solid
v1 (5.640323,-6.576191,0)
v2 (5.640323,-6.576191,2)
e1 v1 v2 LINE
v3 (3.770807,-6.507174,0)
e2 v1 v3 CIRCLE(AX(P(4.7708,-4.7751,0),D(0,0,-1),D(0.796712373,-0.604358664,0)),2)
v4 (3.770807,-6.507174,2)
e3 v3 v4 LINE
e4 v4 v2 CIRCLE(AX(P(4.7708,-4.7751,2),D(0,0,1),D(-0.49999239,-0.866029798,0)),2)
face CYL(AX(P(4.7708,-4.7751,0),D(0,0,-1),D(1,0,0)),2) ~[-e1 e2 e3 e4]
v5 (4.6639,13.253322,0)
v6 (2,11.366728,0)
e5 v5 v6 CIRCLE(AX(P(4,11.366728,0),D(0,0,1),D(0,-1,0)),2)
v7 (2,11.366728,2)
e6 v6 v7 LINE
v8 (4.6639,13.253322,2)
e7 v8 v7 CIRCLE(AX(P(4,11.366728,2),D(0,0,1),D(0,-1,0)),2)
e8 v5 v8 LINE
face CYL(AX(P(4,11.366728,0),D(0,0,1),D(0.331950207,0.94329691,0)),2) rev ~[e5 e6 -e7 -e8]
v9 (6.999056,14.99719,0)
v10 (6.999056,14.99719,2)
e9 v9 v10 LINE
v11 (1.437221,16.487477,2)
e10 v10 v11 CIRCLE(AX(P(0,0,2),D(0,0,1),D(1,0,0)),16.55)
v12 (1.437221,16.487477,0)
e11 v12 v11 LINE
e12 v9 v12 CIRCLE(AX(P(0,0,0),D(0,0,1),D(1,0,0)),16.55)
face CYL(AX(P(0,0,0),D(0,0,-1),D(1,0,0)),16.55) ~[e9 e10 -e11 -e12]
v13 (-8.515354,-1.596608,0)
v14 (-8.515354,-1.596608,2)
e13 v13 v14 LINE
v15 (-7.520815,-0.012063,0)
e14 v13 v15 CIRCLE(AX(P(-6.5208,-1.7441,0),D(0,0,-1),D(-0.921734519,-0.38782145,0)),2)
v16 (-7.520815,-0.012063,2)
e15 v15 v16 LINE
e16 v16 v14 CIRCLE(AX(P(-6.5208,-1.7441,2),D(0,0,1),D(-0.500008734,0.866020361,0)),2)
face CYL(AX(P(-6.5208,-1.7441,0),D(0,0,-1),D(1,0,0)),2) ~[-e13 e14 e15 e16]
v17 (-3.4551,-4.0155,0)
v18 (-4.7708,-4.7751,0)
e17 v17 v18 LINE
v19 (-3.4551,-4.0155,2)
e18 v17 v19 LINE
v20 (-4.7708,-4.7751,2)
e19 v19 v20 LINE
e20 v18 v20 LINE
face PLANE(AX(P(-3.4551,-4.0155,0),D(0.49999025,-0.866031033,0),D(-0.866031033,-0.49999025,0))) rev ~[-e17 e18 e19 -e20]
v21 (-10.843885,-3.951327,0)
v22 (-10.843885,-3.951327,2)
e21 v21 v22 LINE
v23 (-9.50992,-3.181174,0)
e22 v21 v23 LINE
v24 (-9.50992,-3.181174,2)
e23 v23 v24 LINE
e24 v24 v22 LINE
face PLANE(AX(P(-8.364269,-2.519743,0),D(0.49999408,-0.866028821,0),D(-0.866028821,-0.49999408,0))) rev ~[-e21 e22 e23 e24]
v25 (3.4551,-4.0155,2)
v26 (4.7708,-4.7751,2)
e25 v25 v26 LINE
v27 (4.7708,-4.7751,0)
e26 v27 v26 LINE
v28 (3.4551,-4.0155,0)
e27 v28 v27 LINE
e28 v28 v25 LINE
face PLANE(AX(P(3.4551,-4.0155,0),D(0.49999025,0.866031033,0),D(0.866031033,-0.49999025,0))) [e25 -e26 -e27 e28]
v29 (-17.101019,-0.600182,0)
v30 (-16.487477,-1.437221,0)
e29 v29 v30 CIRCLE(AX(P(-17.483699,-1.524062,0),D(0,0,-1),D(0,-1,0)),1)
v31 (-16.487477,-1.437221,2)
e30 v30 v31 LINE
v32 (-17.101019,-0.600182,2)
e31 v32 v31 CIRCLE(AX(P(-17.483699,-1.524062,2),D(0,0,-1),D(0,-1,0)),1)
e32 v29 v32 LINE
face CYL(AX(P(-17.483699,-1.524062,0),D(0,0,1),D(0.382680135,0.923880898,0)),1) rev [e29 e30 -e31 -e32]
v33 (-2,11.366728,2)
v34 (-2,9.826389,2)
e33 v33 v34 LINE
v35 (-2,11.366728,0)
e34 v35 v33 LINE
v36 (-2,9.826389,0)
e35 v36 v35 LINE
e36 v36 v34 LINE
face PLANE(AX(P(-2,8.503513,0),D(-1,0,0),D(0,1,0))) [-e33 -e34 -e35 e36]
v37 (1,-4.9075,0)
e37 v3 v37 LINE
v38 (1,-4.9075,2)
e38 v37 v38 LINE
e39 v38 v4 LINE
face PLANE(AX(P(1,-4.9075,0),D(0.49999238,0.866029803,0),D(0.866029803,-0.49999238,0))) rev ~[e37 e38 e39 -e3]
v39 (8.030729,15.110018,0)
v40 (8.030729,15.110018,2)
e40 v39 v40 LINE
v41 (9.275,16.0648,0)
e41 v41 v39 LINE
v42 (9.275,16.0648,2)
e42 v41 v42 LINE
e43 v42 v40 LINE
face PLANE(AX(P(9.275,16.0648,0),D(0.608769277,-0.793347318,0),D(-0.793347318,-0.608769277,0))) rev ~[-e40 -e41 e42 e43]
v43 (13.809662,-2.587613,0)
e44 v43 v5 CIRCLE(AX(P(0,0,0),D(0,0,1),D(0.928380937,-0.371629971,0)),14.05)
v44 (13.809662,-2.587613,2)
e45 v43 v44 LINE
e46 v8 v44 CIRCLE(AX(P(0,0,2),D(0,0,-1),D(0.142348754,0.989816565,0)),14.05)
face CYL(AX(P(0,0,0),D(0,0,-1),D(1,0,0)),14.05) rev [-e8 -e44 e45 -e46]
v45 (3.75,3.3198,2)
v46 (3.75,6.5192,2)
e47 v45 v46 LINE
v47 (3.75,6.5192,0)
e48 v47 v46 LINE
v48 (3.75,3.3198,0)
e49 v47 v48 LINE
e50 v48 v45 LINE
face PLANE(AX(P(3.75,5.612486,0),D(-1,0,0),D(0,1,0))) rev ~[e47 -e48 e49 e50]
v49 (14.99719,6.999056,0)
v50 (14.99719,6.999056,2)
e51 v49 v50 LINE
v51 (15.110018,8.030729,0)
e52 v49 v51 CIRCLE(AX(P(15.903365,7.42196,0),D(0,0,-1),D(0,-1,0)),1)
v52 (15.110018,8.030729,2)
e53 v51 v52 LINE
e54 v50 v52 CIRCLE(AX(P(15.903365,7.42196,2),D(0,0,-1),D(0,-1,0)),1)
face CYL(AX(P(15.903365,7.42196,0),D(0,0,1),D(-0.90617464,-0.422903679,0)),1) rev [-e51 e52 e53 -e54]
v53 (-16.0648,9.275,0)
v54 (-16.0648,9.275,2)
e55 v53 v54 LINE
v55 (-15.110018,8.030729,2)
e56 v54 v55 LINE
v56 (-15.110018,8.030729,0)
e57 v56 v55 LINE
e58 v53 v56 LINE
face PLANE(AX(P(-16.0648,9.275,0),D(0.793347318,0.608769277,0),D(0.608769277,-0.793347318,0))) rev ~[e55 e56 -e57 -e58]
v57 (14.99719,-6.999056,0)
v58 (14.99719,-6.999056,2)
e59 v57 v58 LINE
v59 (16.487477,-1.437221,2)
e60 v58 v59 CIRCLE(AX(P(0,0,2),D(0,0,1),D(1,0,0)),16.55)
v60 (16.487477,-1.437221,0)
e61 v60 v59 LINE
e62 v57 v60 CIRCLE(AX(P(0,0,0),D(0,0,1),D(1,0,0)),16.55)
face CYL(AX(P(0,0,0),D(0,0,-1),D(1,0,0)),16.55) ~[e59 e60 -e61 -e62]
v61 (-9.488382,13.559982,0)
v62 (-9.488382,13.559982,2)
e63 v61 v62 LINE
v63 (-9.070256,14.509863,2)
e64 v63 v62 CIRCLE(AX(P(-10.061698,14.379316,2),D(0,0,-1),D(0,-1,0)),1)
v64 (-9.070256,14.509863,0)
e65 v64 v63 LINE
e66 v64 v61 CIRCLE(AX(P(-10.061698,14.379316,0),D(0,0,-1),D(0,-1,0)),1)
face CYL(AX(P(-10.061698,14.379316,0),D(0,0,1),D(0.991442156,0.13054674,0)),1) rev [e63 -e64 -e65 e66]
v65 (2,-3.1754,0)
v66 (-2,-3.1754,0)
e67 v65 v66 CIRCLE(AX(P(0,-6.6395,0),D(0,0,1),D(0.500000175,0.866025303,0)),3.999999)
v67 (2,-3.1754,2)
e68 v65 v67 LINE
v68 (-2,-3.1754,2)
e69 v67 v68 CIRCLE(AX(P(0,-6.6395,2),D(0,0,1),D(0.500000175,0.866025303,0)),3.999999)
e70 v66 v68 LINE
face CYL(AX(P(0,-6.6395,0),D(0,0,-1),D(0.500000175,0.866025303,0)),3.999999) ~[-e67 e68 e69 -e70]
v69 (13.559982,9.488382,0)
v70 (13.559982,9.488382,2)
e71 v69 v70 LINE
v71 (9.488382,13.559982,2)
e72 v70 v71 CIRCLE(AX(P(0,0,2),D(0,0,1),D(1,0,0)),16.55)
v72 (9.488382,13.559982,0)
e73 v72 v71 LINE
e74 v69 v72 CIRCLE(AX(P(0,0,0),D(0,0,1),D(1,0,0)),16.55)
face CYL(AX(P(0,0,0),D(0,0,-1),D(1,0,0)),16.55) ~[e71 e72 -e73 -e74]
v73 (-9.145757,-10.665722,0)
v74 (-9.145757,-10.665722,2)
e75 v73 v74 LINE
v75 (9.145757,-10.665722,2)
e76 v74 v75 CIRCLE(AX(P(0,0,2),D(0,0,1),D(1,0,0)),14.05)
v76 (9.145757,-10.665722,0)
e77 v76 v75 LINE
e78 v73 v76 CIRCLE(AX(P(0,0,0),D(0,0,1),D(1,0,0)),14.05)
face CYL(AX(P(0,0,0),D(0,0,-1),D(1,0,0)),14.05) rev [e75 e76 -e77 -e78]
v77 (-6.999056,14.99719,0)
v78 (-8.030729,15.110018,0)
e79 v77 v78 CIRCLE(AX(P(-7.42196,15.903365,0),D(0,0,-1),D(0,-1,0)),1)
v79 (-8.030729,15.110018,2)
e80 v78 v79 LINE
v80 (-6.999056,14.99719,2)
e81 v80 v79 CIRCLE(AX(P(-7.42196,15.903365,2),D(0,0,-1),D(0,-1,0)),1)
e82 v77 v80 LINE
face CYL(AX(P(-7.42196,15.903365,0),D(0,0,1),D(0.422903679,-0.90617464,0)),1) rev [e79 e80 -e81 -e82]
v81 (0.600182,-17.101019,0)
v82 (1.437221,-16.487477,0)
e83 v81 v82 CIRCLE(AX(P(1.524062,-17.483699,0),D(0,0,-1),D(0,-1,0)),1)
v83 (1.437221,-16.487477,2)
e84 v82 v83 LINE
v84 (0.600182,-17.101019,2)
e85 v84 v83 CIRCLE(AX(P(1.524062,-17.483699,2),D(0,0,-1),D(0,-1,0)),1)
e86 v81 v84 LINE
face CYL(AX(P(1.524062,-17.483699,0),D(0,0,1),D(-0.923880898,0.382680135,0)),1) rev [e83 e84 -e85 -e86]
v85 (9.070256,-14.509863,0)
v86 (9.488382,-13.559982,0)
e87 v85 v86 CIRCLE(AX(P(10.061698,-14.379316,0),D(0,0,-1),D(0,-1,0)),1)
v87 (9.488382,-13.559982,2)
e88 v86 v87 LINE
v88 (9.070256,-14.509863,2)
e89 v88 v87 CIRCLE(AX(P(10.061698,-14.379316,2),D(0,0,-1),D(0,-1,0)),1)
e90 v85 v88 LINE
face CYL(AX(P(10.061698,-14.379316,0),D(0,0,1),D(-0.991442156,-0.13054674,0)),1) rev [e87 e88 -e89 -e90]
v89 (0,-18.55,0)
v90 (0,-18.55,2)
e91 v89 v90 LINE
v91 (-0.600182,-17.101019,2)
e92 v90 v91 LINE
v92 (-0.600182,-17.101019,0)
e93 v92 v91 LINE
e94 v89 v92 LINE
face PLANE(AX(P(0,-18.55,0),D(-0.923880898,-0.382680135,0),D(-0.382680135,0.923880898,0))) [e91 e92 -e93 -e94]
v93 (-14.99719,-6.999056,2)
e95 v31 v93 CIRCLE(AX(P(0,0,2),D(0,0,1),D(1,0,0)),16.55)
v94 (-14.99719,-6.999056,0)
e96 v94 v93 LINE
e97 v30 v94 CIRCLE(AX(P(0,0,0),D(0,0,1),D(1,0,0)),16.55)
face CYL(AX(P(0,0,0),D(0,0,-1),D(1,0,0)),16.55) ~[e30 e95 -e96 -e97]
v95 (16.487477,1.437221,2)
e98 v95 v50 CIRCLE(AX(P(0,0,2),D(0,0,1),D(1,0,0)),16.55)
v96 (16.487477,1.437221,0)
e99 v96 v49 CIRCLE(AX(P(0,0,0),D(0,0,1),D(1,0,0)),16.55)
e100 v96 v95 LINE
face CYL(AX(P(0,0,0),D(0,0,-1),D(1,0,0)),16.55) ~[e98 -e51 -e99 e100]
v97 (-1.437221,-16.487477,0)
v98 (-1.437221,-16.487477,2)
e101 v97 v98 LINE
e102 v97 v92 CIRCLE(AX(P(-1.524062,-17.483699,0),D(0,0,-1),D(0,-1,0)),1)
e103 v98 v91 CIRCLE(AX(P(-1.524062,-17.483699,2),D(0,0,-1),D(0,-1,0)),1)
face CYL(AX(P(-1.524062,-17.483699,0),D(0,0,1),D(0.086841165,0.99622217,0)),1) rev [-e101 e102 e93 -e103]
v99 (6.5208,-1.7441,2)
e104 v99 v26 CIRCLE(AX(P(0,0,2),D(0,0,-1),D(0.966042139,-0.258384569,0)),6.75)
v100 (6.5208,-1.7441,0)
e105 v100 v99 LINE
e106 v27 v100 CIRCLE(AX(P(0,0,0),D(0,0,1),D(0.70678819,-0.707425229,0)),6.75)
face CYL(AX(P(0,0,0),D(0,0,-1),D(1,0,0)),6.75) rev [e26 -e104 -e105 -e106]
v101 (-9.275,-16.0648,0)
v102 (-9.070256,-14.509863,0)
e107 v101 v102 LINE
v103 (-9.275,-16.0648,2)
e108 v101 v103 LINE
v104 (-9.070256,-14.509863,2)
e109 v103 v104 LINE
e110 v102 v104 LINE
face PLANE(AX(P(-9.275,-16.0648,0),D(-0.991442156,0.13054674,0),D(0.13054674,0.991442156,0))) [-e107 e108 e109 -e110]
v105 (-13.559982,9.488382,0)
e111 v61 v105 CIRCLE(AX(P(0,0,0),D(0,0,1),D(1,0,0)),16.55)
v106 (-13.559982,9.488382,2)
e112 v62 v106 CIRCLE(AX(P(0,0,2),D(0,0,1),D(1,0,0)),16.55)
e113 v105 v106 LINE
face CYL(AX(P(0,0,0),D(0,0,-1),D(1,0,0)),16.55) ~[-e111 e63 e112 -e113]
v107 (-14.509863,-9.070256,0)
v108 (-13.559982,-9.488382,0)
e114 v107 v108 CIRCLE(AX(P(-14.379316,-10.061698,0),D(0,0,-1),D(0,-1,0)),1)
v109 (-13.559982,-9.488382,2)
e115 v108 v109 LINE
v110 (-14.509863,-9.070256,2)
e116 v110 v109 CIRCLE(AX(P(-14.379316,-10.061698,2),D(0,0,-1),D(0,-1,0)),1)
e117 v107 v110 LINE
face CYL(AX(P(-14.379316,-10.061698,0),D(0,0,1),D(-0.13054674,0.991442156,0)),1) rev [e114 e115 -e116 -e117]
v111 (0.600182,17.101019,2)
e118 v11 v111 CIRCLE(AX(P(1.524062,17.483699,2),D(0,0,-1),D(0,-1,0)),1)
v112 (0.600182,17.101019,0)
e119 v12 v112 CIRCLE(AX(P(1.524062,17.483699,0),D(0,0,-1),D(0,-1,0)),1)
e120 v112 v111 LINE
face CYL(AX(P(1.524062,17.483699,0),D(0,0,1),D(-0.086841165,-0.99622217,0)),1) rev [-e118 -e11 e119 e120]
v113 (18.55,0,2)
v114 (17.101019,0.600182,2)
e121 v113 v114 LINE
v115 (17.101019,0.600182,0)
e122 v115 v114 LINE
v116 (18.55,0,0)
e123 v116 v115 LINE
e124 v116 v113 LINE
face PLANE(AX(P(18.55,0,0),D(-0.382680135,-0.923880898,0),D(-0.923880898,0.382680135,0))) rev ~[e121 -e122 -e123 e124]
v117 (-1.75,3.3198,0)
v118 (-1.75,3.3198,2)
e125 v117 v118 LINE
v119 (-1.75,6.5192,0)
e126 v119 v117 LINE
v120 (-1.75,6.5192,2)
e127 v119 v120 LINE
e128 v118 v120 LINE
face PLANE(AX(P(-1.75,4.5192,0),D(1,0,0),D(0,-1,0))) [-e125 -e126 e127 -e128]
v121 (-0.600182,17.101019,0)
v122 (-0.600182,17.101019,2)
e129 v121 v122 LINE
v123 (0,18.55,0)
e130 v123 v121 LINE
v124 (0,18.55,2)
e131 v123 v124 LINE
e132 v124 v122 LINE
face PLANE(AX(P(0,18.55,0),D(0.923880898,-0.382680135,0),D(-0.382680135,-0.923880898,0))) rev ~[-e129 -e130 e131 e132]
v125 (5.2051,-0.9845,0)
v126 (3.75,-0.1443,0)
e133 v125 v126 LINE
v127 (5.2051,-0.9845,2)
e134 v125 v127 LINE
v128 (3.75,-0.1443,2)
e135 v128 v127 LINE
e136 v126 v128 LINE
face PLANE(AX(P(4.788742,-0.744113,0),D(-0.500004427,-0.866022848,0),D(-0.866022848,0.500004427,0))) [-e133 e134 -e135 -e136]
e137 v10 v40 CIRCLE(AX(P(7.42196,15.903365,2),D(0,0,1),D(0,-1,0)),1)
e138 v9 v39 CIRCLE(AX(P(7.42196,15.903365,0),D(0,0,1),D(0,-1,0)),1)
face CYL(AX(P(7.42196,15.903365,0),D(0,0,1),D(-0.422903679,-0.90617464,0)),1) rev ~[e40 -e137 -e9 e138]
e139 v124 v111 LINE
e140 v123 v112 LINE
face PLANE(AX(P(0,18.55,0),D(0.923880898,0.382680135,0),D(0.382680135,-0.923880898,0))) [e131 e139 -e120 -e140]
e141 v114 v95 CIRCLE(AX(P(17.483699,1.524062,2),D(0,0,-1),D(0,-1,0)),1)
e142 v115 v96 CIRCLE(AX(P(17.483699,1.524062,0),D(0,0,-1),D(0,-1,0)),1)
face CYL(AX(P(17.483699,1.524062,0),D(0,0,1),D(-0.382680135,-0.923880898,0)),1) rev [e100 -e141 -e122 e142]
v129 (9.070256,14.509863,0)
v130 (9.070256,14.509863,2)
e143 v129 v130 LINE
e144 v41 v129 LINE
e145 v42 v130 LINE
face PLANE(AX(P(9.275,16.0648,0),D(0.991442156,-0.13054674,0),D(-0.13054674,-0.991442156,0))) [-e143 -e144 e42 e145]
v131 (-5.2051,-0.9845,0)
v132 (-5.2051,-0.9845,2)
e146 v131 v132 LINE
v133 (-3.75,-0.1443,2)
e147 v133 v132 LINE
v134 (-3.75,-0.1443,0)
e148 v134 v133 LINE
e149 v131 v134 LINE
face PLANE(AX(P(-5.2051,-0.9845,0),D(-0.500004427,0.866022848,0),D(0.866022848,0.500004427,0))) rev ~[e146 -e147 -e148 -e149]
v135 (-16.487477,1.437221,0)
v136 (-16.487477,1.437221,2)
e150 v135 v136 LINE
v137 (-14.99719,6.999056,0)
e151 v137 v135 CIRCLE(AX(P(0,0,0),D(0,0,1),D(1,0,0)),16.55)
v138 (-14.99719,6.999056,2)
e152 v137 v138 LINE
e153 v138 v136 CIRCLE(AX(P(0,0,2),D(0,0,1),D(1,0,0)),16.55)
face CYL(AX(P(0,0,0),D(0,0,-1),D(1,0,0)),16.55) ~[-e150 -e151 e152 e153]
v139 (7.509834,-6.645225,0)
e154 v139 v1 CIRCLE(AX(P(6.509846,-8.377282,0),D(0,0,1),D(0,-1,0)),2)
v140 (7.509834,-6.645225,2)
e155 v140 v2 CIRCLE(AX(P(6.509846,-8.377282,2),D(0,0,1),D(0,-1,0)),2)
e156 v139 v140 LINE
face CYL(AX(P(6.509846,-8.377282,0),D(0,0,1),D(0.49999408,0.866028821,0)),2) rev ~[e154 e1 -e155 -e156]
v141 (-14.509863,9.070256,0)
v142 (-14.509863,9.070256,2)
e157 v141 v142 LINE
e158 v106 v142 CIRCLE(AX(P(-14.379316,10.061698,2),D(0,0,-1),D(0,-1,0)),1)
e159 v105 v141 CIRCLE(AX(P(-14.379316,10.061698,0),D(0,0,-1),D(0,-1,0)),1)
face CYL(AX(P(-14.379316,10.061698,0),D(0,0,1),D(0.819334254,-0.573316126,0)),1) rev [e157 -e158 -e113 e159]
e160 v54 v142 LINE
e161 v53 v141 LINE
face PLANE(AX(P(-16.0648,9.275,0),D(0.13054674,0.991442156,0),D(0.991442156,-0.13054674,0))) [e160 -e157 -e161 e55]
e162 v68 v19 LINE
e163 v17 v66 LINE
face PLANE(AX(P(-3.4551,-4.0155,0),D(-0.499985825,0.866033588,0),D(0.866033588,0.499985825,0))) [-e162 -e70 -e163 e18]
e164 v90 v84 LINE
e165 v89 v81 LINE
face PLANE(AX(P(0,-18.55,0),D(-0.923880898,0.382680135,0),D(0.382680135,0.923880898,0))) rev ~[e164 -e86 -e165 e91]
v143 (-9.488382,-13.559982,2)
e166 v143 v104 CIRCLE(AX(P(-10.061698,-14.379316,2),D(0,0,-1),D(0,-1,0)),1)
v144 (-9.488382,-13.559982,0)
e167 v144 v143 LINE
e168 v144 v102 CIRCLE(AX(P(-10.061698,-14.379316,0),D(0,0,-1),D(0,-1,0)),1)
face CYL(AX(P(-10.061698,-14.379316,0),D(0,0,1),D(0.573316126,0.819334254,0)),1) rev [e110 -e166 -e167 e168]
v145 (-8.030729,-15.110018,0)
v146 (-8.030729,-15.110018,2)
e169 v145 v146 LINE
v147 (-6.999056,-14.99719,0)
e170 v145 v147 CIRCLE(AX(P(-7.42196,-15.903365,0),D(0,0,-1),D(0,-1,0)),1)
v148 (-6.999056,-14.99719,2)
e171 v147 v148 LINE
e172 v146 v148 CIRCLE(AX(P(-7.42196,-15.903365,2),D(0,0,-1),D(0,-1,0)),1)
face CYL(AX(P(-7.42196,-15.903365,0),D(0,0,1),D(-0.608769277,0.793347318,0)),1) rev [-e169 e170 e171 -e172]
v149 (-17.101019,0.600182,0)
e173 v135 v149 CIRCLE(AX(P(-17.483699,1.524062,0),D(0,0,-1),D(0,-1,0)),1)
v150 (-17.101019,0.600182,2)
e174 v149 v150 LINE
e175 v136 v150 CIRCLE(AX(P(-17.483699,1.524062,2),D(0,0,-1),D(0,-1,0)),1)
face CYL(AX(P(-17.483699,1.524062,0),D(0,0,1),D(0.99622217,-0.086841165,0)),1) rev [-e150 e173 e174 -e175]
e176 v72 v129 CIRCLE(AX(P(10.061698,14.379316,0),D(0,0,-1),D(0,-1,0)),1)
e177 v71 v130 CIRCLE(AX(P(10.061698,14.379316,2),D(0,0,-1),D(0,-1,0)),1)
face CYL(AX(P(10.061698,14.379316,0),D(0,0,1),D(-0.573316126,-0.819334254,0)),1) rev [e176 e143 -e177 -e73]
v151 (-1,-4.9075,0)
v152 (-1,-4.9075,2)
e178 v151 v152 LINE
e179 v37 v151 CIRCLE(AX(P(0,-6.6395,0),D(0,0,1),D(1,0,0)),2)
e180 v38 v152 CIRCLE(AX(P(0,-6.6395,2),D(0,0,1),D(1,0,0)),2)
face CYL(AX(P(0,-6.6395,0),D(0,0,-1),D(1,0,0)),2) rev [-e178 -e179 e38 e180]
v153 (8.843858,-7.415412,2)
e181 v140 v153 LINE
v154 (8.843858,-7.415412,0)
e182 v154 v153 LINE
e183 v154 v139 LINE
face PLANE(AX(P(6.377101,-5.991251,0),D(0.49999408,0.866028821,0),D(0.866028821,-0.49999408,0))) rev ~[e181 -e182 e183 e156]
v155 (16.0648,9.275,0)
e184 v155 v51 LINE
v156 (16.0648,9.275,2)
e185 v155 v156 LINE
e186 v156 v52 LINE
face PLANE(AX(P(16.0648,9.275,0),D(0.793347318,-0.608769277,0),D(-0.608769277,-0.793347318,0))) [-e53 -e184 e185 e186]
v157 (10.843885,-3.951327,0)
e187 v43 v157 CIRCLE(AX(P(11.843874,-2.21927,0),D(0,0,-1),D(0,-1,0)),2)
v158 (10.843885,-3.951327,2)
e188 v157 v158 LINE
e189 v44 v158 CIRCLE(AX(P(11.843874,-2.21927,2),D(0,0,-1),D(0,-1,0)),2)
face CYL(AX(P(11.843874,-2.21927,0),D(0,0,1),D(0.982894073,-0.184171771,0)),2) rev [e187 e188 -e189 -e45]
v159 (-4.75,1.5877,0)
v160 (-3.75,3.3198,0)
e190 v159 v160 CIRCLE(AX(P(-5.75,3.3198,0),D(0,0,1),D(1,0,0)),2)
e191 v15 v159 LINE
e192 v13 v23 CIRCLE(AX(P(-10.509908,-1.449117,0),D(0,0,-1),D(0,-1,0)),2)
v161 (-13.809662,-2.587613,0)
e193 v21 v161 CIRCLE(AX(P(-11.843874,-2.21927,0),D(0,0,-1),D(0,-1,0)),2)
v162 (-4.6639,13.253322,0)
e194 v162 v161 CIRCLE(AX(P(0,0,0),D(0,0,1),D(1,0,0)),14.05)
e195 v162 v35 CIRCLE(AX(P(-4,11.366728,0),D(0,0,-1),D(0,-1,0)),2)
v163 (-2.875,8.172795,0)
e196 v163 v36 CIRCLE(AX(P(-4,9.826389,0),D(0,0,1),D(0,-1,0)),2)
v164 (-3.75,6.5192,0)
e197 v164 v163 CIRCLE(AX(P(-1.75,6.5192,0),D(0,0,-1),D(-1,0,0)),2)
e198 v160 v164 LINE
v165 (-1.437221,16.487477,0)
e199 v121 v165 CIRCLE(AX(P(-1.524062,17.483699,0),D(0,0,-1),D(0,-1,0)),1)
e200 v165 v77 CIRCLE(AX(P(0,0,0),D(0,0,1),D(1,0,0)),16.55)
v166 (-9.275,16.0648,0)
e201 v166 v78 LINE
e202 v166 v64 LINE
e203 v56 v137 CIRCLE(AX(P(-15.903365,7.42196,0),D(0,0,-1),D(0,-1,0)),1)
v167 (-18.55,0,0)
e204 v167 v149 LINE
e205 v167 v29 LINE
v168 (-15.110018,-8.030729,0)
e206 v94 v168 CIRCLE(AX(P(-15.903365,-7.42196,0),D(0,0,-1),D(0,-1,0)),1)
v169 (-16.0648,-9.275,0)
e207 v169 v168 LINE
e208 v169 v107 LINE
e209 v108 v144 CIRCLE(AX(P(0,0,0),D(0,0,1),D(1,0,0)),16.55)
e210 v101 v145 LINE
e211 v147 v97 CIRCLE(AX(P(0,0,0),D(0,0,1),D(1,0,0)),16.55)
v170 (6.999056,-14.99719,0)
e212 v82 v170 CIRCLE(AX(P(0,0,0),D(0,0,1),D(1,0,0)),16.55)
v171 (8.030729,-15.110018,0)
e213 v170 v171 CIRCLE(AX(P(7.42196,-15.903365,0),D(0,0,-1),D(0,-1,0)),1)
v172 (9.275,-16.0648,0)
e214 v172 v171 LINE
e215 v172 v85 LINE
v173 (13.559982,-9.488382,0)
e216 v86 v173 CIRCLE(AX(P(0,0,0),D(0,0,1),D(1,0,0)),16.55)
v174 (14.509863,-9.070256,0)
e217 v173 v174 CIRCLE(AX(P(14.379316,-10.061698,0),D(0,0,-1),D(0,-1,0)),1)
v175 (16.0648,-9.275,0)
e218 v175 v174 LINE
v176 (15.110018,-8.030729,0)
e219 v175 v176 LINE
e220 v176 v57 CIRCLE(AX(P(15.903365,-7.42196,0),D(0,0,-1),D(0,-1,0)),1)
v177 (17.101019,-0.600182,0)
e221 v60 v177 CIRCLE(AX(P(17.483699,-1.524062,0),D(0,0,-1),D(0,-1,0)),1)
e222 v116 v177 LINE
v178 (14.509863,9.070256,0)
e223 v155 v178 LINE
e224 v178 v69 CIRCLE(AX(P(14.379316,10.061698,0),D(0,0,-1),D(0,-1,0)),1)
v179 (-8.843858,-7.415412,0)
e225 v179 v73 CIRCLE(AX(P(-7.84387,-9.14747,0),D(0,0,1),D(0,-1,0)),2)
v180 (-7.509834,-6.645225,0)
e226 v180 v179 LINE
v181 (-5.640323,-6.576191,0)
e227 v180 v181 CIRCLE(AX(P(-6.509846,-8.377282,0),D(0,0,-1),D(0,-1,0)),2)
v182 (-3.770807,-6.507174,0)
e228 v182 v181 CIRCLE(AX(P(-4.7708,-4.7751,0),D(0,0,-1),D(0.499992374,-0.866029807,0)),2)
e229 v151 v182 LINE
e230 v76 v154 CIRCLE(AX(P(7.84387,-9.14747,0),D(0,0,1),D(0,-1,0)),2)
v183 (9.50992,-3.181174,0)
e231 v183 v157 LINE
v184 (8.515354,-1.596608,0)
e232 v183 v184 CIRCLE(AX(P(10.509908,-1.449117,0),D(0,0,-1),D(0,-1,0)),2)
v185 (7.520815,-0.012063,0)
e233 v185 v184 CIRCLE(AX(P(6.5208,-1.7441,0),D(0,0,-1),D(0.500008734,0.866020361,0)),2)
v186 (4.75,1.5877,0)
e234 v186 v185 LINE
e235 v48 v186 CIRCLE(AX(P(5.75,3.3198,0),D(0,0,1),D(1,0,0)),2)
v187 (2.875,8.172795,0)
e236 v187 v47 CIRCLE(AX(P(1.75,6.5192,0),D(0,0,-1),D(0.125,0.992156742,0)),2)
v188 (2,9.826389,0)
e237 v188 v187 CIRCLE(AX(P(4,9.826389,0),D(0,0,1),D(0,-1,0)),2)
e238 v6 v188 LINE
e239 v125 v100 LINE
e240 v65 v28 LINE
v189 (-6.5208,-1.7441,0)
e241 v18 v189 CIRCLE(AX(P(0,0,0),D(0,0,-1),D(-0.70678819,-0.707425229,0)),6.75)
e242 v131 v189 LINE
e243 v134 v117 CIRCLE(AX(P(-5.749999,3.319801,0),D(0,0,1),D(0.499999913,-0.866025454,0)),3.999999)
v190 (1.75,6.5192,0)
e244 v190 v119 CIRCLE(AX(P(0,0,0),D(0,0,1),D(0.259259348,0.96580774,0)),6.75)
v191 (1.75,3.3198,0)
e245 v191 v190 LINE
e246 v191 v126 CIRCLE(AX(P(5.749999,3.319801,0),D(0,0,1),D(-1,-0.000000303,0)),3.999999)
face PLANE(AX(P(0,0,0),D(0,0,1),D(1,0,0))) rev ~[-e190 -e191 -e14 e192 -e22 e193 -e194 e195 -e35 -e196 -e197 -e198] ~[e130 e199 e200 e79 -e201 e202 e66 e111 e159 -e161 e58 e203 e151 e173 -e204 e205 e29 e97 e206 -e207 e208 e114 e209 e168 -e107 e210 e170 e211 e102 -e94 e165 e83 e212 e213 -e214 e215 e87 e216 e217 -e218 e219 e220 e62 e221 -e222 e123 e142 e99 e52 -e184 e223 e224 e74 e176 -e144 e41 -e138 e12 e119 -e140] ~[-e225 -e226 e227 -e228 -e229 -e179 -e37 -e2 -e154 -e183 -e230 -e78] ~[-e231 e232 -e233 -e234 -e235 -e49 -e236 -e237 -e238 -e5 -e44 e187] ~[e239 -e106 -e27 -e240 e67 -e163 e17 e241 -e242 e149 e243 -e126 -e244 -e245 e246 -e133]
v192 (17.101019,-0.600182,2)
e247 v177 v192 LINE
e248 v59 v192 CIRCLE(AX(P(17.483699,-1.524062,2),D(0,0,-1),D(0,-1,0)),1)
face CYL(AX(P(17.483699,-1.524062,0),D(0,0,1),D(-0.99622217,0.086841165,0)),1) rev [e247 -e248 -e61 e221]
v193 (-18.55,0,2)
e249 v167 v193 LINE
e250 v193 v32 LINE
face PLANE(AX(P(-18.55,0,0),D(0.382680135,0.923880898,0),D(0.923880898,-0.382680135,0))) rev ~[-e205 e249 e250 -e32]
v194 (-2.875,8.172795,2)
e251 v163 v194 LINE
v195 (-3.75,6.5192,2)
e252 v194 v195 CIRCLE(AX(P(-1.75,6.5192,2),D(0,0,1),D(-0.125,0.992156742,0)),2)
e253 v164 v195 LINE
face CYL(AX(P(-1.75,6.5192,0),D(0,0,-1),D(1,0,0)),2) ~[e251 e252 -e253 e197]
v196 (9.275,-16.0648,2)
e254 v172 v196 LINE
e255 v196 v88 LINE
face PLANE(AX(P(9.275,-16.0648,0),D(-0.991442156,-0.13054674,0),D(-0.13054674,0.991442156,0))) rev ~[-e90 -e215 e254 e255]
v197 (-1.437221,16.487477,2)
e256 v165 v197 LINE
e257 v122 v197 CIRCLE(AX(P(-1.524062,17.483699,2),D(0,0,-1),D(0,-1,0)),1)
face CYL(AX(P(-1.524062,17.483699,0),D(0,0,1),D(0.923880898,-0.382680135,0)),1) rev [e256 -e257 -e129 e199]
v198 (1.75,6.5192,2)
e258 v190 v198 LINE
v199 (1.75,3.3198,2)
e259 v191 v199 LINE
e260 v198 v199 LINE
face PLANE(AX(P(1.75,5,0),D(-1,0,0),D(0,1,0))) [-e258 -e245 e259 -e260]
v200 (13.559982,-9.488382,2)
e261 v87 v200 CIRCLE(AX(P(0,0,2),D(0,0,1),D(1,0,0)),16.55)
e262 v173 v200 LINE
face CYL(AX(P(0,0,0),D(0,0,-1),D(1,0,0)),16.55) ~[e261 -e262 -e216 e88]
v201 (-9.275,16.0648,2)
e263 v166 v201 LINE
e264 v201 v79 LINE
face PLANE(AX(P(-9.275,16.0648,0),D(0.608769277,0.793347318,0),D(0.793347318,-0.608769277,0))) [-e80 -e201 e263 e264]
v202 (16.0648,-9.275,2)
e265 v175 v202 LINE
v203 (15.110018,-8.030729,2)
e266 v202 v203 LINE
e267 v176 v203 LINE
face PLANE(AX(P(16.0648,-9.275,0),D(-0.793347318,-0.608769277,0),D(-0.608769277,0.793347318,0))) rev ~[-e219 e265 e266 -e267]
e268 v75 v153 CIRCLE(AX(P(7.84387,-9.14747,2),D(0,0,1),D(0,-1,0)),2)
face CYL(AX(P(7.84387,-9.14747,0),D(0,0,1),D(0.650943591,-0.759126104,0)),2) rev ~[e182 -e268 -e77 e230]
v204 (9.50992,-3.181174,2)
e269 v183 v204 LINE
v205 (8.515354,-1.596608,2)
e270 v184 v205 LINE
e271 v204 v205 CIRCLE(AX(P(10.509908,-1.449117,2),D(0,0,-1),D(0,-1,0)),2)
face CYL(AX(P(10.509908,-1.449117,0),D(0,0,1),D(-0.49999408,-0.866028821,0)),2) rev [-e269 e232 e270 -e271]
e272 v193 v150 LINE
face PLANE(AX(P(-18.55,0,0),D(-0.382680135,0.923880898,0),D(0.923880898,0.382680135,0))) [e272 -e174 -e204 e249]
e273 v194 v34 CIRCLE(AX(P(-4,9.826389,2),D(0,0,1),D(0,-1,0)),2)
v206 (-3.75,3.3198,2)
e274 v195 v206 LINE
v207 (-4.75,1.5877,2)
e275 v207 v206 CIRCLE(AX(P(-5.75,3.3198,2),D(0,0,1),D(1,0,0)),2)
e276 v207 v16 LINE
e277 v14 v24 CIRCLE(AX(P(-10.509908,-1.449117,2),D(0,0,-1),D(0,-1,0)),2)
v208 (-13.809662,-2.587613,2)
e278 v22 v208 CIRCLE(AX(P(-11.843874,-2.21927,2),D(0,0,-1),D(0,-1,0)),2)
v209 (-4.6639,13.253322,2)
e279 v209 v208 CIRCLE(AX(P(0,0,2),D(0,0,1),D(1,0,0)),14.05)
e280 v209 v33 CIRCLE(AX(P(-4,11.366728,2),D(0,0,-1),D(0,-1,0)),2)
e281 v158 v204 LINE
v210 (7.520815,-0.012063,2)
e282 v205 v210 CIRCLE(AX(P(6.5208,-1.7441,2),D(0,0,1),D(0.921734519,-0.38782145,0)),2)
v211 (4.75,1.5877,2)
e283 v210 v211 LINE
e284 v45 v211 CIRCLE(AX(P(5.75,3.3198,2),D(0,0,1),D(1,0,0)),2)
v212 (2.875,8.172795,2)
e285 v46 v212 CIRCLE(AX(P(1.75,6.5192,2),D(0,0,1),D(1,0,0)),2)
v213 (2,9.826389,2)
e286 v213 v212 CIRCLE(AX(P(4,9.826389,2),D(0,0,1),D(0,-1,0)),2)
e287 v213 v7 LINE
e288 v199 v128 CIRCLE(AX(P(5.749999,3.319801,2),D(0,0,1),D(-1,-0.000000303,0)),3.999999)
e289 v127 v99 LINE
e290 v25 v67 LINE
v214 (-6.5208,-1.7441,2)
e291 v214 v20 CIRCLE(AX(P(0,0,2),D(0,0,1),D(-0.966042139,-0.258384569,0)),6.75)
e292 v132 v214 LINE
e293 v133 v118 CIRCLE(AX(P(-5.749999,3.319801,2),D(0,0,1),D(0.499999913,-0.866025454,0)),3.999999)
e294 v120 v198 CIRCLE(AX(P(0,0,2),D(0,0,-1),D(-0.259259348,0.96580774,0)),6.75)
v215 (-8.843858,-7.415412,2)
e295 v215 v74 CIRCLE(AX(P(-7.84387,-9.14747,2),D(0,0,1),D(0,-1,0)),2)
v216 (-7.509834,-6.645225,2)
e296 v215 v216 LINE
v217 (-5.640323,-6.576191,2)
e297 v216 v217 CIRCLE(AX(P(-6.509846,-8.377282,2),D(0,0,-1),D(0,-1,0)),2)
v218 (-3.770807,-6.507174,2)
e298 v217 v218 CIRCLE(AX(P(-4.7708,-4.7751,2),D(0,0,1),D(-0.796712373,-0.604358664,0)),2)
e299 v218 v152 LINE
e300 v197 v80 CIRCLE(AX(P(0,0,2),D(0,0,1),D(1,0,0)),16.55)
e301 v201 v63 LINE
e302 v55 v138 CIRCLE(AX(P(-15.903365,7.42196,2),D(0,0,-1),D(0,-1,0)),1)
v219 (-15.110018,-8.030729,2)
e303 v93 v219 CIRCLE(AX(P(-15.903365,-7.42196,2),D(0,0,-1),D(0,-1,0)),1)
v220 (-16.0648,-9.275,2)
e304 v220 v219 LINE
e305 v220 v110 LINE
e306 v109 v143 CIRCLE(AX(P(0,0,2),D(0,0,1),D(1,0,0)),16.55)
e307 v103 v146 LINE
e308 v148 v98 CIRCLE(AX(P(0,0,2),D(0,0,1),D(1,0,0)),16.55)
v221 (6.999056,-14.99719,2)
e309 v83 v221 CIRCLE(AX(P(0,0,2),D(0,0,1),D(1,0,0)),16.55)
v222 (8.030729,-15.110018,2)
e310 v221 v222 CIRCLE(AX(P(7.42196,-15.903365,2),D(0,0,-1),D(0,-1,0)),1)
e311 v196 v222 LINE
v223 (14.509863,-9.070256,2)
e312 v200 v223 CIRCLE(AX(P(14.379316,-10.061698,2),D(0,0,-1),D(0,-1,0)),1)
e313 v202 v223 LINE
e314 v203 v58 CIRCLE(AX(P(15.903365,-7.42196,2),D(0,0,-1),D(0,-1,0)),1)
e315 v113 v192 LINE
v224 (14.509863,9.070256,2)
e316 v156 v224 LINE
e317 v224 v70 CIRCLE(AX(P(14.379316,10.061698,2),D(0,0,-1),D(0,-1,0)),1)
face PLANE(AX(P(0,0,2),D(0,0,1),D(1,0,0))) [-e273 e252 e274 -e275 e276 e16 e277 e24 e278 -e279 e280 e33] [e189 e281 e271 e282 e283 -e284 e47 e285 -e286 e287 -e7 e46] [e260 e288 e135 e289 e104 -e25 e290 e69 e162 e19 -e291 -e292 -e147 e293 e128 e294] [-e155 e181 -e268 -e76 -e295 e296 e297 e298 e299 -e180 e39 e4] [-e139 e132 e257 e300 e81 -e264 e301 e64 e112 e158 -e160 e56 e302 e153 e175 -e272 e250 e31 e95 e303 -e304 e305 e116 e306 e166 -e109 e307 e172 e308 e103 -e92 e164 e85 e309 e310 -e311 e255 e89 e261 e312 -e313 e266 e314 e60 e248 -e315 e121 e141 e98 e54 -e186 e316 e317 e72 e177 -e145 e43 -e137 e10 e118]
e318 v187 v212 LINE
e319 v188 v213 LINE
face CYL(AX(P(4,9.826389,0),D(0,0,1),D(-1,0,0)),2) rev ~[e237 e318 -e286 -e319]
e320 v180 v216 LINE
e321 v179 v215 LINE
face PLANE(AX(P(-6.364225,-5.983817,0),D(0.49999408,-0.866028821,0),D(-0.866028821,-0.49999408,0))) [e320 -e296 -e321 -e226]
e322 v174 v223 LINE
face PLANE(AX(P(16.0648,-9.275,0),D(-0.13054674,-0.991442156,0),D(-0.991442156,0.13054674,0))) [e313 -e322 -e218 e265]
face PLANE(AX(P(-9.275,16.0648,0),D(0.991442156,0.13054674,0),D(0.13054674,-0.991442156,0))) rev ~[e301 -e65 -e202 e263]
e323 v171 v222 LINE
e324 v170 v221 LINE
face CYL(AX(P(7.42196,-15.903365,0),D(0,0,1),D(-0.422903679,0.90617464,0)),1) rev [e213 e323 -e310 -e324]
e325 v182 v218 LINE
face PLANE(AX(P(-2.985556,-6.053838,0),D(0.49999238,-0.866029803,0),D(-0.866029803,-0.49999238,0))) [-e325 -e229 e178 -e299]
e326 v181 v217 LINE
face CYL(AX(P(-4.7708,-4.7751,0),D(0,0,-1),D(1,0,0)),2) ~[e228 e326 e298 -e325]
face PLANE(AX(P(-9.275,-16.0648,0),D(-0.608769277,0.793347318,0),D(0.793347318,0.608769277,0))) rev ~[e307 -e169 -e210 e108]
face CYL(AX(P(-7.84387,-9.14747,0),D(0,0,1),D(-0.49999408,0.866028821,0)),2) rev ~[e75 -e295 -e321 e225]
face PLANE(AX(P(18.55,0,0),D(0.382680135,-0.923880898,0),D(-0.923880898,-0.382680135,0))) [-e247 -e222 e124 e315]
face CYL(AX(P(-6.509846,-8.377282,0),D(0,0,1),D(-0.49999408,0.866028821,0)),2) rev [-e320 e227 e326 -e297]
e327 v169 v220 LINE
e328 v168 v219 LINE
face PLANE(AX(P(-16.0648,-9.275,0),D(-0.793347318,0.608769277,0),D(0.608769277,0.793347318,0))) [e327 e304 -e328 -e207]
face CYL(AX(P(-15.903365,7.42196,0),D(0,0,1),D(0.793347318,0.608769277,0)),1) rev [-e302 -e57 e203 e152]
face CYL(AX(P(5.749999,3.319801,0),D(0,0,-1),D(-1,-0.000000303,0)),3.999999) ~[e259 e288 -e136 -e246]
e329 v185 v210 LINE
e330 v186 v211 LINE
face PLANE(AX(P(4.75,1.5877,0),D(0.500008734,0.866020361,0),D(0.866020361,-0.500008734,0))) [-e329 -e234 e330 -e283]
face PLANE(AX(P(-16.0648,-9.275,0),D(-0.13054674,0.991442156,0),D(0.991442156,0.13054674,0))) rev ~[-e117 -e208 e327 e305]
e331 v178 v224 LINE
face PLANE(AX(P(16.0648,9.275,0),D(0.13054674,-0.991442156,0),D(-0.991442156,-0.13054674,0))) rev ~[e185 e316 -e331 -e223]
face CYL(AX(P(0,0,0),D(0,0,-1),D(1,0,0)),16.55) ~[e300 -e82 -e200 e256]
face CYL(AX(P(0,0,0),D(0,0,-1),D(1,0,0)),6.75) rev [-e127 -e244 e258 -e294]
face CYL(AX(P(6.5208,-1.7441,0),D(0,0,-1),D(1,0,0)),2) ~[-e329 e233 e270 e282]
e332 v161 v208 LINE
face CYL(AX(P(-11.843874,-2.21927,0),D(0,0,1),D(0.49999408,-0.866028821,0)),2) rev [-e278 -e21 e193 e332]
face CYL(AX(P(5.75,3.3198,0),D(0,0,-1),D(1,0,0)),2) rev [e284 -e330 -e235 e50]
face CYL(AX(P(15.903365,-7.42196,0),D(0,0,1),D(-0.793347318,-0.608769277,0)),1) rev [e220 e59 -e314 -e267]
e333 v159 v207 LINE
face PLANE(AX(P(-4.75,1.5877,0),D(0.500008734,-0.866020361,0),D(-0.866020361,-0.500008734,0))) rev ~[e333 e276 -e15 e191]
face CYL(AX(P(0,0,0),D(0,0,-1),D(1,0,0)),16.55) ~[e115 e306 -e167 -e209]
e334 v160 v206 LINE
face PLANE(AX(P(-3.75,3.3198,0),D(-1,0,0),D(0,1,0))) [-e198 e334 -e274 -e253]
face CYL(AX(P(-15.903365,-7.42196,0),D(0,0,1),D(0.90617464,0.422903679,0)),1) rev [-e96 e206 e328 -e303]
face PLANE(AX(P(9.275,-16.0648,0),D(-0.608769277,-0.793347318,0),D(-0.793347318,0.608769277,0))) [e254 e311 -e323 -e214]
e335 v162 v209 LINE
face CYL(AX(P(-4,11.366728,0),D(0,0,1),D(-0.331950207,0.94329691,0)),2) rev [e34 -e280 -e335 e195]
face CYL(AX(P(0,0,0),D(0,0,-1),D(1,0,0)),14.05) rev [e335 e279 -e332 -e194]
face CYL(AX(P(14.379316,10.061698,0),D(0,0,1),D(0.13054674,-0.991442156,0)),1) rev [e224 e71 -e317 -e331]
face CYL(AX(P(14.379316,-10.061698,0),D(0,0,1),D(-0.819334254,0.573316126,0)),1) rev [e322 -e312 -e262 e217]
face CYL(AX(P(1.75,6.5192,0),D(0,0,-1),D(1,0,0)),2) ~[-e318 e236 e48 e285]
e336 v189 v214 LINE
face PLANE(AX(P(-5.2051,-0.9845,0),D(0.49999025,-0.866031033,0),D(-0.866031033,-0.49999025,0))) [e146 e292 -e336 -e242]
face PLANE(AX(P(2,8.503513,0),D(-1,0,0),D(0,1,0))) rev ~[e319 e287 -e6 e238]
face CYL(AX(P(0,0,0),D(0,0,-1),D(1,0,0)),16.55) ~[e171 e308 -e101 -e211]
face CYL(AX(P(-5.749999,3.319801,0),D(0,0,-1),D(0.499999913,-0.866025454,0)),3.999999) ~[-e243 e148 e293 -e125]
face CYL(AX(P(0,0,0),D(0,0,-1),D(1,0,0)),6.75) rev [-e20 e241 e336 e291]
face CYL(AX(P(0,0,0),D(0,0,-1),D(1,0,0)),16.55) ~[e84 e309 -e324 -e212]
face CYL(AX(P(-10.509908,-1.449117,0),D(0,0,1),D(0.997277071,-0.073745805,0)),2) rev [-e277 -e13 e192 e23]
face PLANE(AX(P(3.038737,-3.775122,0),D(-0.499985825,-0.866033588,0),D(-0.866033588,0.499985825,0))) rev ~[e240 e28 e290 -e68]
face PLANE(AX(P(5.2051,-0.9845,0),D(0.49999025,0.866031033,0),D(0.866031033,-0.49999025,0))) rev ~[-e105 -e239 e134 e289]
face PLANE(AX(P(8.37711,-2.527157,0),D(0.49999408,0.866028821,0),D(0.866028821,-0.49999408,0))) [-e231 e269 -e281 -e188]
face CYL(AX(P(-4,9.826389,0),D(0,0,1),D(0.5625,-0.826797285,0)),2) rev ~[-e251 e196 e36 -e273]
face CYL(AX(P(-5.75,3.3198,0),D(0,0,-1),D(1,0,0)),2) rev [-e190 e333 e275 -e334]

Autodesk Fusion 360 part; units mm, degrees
sketch "Sketch2" plane through (0, 0, 0) normal (0, 0, 1) x (1, 0, 0)
  circle A0 centre (0, 0) radius 5 construction
  line L0 (0, 0) -> (0, 5) construction
  line L1 (0, 0) -> (4.3301, -2.5) construction
  line L2 (0, 0) -> (-4.3301, -2.5) construction
  line L3 (0, 0) -> (5, 0) construction
  circle A1 centre (-4.3301, -2.5) radius 1 construction
  circle A2 centre (4.3301, -2.5) radius 1 construction
  circle A3 centre (0, 5) radius 1 construction
  circle A4 centre (-4.3301, -2.5) radius 1.75
  circle A5 centre (4.3301, -2.5) radius 1.75
  circle A6 centre (0, 5) radius 1.75 construction
  circle A7 centre (0, 0) radius 6.75
  line L4 (4.3301, -2.5) -> (5.2051, -0.9845)
  line L5 (4.3301, -2.5) -> (3.4551, -4.0155)
  line L6 (0, 5) -> (1.75, 5)
  line L7 (0, 5) -> (-1.75, 5)
  line L8 (-4.3301, -2.5) -> (-3.4551, -4.0155)
  line L9 (-4.3301, -2.5) -> (-5.2051, -0.9845)
  circle A8 centre (0, 0) radius 2 construction
  line L10 (3.4551, -4.0155) -> (-0.0365, -1.9997)
  line L11 (5.2051, -0.9845) -> (1.7135, 1.0314)
  line L12 (1.75, 5) -> (1.75, 0.9682)
  line L13 (-1.75, 5) -> (-1.75, 0.9682)
  line L14 (-5.2051, -0.9845) -> (-1.7135, 1.0314)
  line L15 (-3.4551, -4.0155) -> (0.0365, -1.9997)
  line L16 (1.75, 5) -> (1.75, 6.5192)
  line L17 (-1.75, 5) -> (-1.75, 6.5192)
  line L18 (-3.4551, -4.0155) -> (-4.7708, -4.7751)
  line L19 (-5.2051, -0.9845) -> (-6.5208, -1.7441)
  line L20 (3.4551, -4.0155) -> (4.7708, -4.7751)
  line L21 (5.2051, -0.9845) -> (6.5208, -1.7441)
  circle A9 centre (0, 0) radius 8.75
  arc A10 (1.75, 3.3198) -> (3.75, -0.1443) centre (5.75, 3.3198) ccw
  arc A11 (-3.75, -0.1443) -> (-1.75, 3.3198) centre (-5.75, 3.3198) ccw
  arc A12 (2, -3.1754) -> (-2, -3.1754) centre (0, -6.6395) ccw
  circle A13 centre (-5.75, 3.3198) radius 2
  circle A14 centre (5.75, 3.3198) radius 2
  circle A15 centre (0, -6.6395) radius 2
  line L22 (0, -6.6395) -> (1, -4.9075)
  line L23 (0, -6.6395) -> (2, -6.6395) construction
  line L24 (0, -6.6395) -> (-1, -4.9075)
  line L25 (-1, -4.9075) -> (-4.9715, -7.2004)
  line L26 (1, -4.9075) -> (4.9715, -7.2004)
  line L27 (5.75, 3.3198) -> (4.75, 1.5877)
  line L28 (4.75, 1.5877) -> (8.7215, -0.7053)
  line L29 (5.75, 3.3198) -> (3.75, 3.3198)
  line L30 (3.75, 3.3198) -> (3.75, 7.9057)
  line L31 (-5.75, 3.3198) -> (-3.75, 3.3198)
  line L32 (-5.75, 3.3198) -> (-4.75, 1.5877)
  line L33 (-3.75, 3.3198) -> (-3.75, 7.9057)
  line L34 (-4.75, 1.5877) -> (-8.7215, -0.7053)
  circle A16 centre (-1.75, 6.5192) radius 2
  circle A17 centre (1.75, 6.5192) radius 2
  circle A18 centre (-6.5208, -1.7441) radius 2
  circle A19 centre (-4.7708, -4.7751) radius 2
  circle A20 centre (4.7708, -4.7751) radius 2
  circle A21 centre (6.5208, -1.7441) radius 2
  line L35 (4.3301, -2.5) -> (7.5777, -4.375)
  circle A22 centre (0, 0) radius 16.55
  circle A23 centre (0, 0) radius 16.55
  line L36 (4.7708, -4.7751) -> (4.6458, -4.9917)
  line L37 (6.5208, -1.7441) -> (6.6458, -1.5276)
  line L38 (-4.7708, -4.7751) -> (-4.6458, -4.9917)
  line L39 (-6.5208, -1.7441) -> (-6.6458, -1.5276)
  line L40 (1.75, 6.5192) -> (2, 6.5192)
  line L41 (-1.75, 6.5192) -> (-2, 6.5192)
  circle A24 centre (0, 0) radius 14.55
  line L42 (-2, 6.5192) -> (-2, 14.4119)
  line L43 (2, 6.5192) -> (2, 14.4119)
  line L44 (-6.6458, -1.5276) -> (-13.4811, -5.4739)
  line L45 (-4.6458, -4.9917) -> (-11.4811, -8.938)
  line L46 (4.6458, -4.9917) -> (11.4811, -8.938)
  line L47 (6.6458, -1.5276) -> (13.4811, -5.4739)
  line L48 (0, 0) -> (0, 16.55)
  line L49 (0, 16.55) -> (0, 18.55)
  line L50 (0, 18.55) -> (0.8372, 16.5288)
  line L51 (0, 18.55) -> (2.1877, 18.55) construction
  line L52 (0, 18.55) -> (-0.8372, 16.5288)
  line L53 (0, 18.55) -> (2.1877, 18.55) construction
  line L54 (-9.275, 16.0648) -> (-7.5394, 14.733)
  line L55 (-9.275, 16.0648) -> (-8.9894, 13.8958)
  line L56 (-16.0648, 9.275) -> (-13.8958, 8.9894)
  line L57 (-16.0648, 9.275) -> (-14.733, 7.5394)
  line L58 (-18.55, 0) -> (-16.5288, 0.8372)
  line L59 (-18.55, 0) -> (-16.5288, -0.8372)
  line L60 (-16.0648, -9.275) -> (-14.733, -7.5394)
  line L61 (-16.0648, -9.275) -> (-13.8958, -8.9894)
  line L62 (-9.275, -16.0648) -> (-8.9894, -13.8958)
  line L63 (-9.275, -16.0648) -> (-7.5394, -14.733)
  line L64 (0, -18.55) -> (-0.8372, -16.5288)
  line L65 (0, -18.55) -> (0.8372, -16.5288)
  line L66 (9.275, -16.0648) -> (7.5394, -14.733)
  line L67 (9.275, -16.0648) -> (8.9894, -13.8958)
  line L68 (16.0648, -9.275) -> (13.8958, -8.9894)
  line L69 (16.0648, -9.275) -> (14.733, -7.5394)
  line L70 (18.55, 0) -> (16.5288, -0.8372)
  line L71 (18.55, 0) -> (16.5288, 0.8372)
  line L72 (16.0648, 9.275) -> (14.733, 7.5394)
  line L73 (16.0648, 9.275) -> (13.8958, 8.9894)
  line L74 (9.275, 16.0648) -> (8.9894, 13.8958)
  line L75 (9.275, 16.0648) -> (7.5394, 14.733)
  circle A25 centre (0, 0) radius 14.05
  dimension "d35" = 10
  dimension "d36" = 60
  dimension "d37" = 150
  dimension "d38" = 2
  dimension "d39" = 2
  dimension "d40" = 2
  dimension "d41" = 3.5
  dimension "d42" = 3.5
  dimension "d43" = 3.5
  dimension "d44" = 4
  dimension "d46" = 4
  dimension "d47" = 4
  dimension "d50" = 17.5
  dimension "d53" = 4
  dimension "d54" = 4
  dimension "d55" = 4
  dimension "d56" = 60
  dimension "d57" = 120
  dimension "d58" = 90
  dimension "d59" = 120
  dimension "d64" = 33.1
  dimension "d69" = 0.25
  dimension "d70" = 0.25
  dimension "d71" = 0.25
  dimension "d72" = 0.25
  dimension "d73" = 0.25
  dimension "d74" = 0.25
  dimension "d75" = 29.1
  dimension "d78" = 2
  dimension "d79" = 67.5
  dimension "d80" = 112.5
  dimension "d82" = 360
  dimension "d87" = 28.1
extrude "Extrude4" add sketch "Sketch2" along normal blind 2 contours A7 L14 L19 A18 | A7 L13 L14 A11 A13 L33 L34 A16 A18 | A7 L15 L18 A19 | A7 L10 L15 A12 A15 L25 L26 A19 A20 | A7 A18 L39 L44 | A7 A18 A19 L39 L44 | A7 L34 A18 | A7 A18 A19 L38 L45 | A7 A19 L38 L45 | A7 A18 A19 | A7 L25 A19 | A9 A18 A19 L44 L45 | A7 L13 L17 A16 | A7 L10 L20 A20 | A9 L44 L45 A25 | A7 A16 L41 L42 | A7 L33 A16 | A7 L26 A20 | A7 A20 L36 L46 | A24 L44 L45 A25 | A24 L42 L44 A25 | A7 A16 A17 L41 L42 | A24 L45 L46 A25 | A7 A20 A21 L36 L46 | A22 A23 | A22 A23 L49 L52 | A22 A23 L49 L50 | A9 L42 L48 A25 | A24 L42 L48 A25 | A7 A17 L48 | A7 A16 L48 | A9 A16 L42 L48 | A24 L46 L47 A25 | A9 L46 L47 A25 | A7 A21 L35 | A7 A20 L35 | A7 L11 L21 A21 | A7 L11 L12 A10 A14 L28 L30 A17 A21 | A9 L43 L48 A25 | A24 L43 L48 A25 | A7 A16 A17 L40 L43 | A9 A17 L43 L48 | A7 L12 L16 A17 | A9 A20 L35 L46 | A24 L43 L47 A25 | A7 A20 A21 L37 L47 | A9 A21 L35 L47 | A7 A21 L37 L47 | A7 L28 A21 | A7 A17 L40 L43 | A7 L30 A17 | A22 A23 L74 L75 | A22 A23 L54 L55 | A22 A23 L72 L73 | A22 A23 L56 L57 | A22 A23 L70 L71 | A22 A23 L58 L59 | A22 A23 L60 L61 | A22 A23 L68 L69 | A22 A23 L62 L63 | A22 A23 L66 L67 | A22 A23 L64 L65 picked at (-0.1006, 7.0013) picked at (0.1006, 7.0013)
fillet "Fillet5" radius 2 12 edges at (-2, 13.9069, 1) (2, 13.9069, 1) (2, 8.5035, 1) (-2, 8.5035, 1) (-8.3643, -2.5197, 1) (-11.0437, -8.6855, 1) (-6.3643, -5.9838, 1) (-13.0437, -5.2214, 1) (6.3643, -5.9838, 1) (11.0437, -8.6855, 1) (13.0437, -5.2214, 1) (8.3643, -2.5197, 1)
fillet "Fillet6" radius 1 24 edges at (0.8372, 16.5288, 1) (8.9894, 13.8958, 1) (7.5394, 14.733, 1) (-7.5394, 14.733, 1) (-8.9894, 13.8958, 1) (-13.8958, 8.9894, 1) (-16.5288, 0.8372, 1) (-16.5288, -0.8372, 1) (-14.733, -7.5394, 1) (-13.8958, -8.9894, 1) (-8.9894, -13.8958, 1) (-7.5394, -14.733, 1) (-0.8372, -16.5288, 1) (0.8372, -16.5288, 1) (7.5394, -14.733, 1) (8.9894, -13.8958, 1) (13.8958, -8.9894, 1) (14.733, -7.5394, 1) (16.5288, -0.8372, 1) (16.5288, 0.8372, 1) (-0.8372, 16.5288, 1) (-14.733, 7.5394, 1) (14.733, 7.5394, 1) (13.8958, 8.9894, 1)
equation "inner_diameter = 33.1 mm"
equation "outer_diameter = 37.1 mm"
equation "d87 = inner_inner_diameter"
equation "inner_inner_diameter = 28.1 mm"
